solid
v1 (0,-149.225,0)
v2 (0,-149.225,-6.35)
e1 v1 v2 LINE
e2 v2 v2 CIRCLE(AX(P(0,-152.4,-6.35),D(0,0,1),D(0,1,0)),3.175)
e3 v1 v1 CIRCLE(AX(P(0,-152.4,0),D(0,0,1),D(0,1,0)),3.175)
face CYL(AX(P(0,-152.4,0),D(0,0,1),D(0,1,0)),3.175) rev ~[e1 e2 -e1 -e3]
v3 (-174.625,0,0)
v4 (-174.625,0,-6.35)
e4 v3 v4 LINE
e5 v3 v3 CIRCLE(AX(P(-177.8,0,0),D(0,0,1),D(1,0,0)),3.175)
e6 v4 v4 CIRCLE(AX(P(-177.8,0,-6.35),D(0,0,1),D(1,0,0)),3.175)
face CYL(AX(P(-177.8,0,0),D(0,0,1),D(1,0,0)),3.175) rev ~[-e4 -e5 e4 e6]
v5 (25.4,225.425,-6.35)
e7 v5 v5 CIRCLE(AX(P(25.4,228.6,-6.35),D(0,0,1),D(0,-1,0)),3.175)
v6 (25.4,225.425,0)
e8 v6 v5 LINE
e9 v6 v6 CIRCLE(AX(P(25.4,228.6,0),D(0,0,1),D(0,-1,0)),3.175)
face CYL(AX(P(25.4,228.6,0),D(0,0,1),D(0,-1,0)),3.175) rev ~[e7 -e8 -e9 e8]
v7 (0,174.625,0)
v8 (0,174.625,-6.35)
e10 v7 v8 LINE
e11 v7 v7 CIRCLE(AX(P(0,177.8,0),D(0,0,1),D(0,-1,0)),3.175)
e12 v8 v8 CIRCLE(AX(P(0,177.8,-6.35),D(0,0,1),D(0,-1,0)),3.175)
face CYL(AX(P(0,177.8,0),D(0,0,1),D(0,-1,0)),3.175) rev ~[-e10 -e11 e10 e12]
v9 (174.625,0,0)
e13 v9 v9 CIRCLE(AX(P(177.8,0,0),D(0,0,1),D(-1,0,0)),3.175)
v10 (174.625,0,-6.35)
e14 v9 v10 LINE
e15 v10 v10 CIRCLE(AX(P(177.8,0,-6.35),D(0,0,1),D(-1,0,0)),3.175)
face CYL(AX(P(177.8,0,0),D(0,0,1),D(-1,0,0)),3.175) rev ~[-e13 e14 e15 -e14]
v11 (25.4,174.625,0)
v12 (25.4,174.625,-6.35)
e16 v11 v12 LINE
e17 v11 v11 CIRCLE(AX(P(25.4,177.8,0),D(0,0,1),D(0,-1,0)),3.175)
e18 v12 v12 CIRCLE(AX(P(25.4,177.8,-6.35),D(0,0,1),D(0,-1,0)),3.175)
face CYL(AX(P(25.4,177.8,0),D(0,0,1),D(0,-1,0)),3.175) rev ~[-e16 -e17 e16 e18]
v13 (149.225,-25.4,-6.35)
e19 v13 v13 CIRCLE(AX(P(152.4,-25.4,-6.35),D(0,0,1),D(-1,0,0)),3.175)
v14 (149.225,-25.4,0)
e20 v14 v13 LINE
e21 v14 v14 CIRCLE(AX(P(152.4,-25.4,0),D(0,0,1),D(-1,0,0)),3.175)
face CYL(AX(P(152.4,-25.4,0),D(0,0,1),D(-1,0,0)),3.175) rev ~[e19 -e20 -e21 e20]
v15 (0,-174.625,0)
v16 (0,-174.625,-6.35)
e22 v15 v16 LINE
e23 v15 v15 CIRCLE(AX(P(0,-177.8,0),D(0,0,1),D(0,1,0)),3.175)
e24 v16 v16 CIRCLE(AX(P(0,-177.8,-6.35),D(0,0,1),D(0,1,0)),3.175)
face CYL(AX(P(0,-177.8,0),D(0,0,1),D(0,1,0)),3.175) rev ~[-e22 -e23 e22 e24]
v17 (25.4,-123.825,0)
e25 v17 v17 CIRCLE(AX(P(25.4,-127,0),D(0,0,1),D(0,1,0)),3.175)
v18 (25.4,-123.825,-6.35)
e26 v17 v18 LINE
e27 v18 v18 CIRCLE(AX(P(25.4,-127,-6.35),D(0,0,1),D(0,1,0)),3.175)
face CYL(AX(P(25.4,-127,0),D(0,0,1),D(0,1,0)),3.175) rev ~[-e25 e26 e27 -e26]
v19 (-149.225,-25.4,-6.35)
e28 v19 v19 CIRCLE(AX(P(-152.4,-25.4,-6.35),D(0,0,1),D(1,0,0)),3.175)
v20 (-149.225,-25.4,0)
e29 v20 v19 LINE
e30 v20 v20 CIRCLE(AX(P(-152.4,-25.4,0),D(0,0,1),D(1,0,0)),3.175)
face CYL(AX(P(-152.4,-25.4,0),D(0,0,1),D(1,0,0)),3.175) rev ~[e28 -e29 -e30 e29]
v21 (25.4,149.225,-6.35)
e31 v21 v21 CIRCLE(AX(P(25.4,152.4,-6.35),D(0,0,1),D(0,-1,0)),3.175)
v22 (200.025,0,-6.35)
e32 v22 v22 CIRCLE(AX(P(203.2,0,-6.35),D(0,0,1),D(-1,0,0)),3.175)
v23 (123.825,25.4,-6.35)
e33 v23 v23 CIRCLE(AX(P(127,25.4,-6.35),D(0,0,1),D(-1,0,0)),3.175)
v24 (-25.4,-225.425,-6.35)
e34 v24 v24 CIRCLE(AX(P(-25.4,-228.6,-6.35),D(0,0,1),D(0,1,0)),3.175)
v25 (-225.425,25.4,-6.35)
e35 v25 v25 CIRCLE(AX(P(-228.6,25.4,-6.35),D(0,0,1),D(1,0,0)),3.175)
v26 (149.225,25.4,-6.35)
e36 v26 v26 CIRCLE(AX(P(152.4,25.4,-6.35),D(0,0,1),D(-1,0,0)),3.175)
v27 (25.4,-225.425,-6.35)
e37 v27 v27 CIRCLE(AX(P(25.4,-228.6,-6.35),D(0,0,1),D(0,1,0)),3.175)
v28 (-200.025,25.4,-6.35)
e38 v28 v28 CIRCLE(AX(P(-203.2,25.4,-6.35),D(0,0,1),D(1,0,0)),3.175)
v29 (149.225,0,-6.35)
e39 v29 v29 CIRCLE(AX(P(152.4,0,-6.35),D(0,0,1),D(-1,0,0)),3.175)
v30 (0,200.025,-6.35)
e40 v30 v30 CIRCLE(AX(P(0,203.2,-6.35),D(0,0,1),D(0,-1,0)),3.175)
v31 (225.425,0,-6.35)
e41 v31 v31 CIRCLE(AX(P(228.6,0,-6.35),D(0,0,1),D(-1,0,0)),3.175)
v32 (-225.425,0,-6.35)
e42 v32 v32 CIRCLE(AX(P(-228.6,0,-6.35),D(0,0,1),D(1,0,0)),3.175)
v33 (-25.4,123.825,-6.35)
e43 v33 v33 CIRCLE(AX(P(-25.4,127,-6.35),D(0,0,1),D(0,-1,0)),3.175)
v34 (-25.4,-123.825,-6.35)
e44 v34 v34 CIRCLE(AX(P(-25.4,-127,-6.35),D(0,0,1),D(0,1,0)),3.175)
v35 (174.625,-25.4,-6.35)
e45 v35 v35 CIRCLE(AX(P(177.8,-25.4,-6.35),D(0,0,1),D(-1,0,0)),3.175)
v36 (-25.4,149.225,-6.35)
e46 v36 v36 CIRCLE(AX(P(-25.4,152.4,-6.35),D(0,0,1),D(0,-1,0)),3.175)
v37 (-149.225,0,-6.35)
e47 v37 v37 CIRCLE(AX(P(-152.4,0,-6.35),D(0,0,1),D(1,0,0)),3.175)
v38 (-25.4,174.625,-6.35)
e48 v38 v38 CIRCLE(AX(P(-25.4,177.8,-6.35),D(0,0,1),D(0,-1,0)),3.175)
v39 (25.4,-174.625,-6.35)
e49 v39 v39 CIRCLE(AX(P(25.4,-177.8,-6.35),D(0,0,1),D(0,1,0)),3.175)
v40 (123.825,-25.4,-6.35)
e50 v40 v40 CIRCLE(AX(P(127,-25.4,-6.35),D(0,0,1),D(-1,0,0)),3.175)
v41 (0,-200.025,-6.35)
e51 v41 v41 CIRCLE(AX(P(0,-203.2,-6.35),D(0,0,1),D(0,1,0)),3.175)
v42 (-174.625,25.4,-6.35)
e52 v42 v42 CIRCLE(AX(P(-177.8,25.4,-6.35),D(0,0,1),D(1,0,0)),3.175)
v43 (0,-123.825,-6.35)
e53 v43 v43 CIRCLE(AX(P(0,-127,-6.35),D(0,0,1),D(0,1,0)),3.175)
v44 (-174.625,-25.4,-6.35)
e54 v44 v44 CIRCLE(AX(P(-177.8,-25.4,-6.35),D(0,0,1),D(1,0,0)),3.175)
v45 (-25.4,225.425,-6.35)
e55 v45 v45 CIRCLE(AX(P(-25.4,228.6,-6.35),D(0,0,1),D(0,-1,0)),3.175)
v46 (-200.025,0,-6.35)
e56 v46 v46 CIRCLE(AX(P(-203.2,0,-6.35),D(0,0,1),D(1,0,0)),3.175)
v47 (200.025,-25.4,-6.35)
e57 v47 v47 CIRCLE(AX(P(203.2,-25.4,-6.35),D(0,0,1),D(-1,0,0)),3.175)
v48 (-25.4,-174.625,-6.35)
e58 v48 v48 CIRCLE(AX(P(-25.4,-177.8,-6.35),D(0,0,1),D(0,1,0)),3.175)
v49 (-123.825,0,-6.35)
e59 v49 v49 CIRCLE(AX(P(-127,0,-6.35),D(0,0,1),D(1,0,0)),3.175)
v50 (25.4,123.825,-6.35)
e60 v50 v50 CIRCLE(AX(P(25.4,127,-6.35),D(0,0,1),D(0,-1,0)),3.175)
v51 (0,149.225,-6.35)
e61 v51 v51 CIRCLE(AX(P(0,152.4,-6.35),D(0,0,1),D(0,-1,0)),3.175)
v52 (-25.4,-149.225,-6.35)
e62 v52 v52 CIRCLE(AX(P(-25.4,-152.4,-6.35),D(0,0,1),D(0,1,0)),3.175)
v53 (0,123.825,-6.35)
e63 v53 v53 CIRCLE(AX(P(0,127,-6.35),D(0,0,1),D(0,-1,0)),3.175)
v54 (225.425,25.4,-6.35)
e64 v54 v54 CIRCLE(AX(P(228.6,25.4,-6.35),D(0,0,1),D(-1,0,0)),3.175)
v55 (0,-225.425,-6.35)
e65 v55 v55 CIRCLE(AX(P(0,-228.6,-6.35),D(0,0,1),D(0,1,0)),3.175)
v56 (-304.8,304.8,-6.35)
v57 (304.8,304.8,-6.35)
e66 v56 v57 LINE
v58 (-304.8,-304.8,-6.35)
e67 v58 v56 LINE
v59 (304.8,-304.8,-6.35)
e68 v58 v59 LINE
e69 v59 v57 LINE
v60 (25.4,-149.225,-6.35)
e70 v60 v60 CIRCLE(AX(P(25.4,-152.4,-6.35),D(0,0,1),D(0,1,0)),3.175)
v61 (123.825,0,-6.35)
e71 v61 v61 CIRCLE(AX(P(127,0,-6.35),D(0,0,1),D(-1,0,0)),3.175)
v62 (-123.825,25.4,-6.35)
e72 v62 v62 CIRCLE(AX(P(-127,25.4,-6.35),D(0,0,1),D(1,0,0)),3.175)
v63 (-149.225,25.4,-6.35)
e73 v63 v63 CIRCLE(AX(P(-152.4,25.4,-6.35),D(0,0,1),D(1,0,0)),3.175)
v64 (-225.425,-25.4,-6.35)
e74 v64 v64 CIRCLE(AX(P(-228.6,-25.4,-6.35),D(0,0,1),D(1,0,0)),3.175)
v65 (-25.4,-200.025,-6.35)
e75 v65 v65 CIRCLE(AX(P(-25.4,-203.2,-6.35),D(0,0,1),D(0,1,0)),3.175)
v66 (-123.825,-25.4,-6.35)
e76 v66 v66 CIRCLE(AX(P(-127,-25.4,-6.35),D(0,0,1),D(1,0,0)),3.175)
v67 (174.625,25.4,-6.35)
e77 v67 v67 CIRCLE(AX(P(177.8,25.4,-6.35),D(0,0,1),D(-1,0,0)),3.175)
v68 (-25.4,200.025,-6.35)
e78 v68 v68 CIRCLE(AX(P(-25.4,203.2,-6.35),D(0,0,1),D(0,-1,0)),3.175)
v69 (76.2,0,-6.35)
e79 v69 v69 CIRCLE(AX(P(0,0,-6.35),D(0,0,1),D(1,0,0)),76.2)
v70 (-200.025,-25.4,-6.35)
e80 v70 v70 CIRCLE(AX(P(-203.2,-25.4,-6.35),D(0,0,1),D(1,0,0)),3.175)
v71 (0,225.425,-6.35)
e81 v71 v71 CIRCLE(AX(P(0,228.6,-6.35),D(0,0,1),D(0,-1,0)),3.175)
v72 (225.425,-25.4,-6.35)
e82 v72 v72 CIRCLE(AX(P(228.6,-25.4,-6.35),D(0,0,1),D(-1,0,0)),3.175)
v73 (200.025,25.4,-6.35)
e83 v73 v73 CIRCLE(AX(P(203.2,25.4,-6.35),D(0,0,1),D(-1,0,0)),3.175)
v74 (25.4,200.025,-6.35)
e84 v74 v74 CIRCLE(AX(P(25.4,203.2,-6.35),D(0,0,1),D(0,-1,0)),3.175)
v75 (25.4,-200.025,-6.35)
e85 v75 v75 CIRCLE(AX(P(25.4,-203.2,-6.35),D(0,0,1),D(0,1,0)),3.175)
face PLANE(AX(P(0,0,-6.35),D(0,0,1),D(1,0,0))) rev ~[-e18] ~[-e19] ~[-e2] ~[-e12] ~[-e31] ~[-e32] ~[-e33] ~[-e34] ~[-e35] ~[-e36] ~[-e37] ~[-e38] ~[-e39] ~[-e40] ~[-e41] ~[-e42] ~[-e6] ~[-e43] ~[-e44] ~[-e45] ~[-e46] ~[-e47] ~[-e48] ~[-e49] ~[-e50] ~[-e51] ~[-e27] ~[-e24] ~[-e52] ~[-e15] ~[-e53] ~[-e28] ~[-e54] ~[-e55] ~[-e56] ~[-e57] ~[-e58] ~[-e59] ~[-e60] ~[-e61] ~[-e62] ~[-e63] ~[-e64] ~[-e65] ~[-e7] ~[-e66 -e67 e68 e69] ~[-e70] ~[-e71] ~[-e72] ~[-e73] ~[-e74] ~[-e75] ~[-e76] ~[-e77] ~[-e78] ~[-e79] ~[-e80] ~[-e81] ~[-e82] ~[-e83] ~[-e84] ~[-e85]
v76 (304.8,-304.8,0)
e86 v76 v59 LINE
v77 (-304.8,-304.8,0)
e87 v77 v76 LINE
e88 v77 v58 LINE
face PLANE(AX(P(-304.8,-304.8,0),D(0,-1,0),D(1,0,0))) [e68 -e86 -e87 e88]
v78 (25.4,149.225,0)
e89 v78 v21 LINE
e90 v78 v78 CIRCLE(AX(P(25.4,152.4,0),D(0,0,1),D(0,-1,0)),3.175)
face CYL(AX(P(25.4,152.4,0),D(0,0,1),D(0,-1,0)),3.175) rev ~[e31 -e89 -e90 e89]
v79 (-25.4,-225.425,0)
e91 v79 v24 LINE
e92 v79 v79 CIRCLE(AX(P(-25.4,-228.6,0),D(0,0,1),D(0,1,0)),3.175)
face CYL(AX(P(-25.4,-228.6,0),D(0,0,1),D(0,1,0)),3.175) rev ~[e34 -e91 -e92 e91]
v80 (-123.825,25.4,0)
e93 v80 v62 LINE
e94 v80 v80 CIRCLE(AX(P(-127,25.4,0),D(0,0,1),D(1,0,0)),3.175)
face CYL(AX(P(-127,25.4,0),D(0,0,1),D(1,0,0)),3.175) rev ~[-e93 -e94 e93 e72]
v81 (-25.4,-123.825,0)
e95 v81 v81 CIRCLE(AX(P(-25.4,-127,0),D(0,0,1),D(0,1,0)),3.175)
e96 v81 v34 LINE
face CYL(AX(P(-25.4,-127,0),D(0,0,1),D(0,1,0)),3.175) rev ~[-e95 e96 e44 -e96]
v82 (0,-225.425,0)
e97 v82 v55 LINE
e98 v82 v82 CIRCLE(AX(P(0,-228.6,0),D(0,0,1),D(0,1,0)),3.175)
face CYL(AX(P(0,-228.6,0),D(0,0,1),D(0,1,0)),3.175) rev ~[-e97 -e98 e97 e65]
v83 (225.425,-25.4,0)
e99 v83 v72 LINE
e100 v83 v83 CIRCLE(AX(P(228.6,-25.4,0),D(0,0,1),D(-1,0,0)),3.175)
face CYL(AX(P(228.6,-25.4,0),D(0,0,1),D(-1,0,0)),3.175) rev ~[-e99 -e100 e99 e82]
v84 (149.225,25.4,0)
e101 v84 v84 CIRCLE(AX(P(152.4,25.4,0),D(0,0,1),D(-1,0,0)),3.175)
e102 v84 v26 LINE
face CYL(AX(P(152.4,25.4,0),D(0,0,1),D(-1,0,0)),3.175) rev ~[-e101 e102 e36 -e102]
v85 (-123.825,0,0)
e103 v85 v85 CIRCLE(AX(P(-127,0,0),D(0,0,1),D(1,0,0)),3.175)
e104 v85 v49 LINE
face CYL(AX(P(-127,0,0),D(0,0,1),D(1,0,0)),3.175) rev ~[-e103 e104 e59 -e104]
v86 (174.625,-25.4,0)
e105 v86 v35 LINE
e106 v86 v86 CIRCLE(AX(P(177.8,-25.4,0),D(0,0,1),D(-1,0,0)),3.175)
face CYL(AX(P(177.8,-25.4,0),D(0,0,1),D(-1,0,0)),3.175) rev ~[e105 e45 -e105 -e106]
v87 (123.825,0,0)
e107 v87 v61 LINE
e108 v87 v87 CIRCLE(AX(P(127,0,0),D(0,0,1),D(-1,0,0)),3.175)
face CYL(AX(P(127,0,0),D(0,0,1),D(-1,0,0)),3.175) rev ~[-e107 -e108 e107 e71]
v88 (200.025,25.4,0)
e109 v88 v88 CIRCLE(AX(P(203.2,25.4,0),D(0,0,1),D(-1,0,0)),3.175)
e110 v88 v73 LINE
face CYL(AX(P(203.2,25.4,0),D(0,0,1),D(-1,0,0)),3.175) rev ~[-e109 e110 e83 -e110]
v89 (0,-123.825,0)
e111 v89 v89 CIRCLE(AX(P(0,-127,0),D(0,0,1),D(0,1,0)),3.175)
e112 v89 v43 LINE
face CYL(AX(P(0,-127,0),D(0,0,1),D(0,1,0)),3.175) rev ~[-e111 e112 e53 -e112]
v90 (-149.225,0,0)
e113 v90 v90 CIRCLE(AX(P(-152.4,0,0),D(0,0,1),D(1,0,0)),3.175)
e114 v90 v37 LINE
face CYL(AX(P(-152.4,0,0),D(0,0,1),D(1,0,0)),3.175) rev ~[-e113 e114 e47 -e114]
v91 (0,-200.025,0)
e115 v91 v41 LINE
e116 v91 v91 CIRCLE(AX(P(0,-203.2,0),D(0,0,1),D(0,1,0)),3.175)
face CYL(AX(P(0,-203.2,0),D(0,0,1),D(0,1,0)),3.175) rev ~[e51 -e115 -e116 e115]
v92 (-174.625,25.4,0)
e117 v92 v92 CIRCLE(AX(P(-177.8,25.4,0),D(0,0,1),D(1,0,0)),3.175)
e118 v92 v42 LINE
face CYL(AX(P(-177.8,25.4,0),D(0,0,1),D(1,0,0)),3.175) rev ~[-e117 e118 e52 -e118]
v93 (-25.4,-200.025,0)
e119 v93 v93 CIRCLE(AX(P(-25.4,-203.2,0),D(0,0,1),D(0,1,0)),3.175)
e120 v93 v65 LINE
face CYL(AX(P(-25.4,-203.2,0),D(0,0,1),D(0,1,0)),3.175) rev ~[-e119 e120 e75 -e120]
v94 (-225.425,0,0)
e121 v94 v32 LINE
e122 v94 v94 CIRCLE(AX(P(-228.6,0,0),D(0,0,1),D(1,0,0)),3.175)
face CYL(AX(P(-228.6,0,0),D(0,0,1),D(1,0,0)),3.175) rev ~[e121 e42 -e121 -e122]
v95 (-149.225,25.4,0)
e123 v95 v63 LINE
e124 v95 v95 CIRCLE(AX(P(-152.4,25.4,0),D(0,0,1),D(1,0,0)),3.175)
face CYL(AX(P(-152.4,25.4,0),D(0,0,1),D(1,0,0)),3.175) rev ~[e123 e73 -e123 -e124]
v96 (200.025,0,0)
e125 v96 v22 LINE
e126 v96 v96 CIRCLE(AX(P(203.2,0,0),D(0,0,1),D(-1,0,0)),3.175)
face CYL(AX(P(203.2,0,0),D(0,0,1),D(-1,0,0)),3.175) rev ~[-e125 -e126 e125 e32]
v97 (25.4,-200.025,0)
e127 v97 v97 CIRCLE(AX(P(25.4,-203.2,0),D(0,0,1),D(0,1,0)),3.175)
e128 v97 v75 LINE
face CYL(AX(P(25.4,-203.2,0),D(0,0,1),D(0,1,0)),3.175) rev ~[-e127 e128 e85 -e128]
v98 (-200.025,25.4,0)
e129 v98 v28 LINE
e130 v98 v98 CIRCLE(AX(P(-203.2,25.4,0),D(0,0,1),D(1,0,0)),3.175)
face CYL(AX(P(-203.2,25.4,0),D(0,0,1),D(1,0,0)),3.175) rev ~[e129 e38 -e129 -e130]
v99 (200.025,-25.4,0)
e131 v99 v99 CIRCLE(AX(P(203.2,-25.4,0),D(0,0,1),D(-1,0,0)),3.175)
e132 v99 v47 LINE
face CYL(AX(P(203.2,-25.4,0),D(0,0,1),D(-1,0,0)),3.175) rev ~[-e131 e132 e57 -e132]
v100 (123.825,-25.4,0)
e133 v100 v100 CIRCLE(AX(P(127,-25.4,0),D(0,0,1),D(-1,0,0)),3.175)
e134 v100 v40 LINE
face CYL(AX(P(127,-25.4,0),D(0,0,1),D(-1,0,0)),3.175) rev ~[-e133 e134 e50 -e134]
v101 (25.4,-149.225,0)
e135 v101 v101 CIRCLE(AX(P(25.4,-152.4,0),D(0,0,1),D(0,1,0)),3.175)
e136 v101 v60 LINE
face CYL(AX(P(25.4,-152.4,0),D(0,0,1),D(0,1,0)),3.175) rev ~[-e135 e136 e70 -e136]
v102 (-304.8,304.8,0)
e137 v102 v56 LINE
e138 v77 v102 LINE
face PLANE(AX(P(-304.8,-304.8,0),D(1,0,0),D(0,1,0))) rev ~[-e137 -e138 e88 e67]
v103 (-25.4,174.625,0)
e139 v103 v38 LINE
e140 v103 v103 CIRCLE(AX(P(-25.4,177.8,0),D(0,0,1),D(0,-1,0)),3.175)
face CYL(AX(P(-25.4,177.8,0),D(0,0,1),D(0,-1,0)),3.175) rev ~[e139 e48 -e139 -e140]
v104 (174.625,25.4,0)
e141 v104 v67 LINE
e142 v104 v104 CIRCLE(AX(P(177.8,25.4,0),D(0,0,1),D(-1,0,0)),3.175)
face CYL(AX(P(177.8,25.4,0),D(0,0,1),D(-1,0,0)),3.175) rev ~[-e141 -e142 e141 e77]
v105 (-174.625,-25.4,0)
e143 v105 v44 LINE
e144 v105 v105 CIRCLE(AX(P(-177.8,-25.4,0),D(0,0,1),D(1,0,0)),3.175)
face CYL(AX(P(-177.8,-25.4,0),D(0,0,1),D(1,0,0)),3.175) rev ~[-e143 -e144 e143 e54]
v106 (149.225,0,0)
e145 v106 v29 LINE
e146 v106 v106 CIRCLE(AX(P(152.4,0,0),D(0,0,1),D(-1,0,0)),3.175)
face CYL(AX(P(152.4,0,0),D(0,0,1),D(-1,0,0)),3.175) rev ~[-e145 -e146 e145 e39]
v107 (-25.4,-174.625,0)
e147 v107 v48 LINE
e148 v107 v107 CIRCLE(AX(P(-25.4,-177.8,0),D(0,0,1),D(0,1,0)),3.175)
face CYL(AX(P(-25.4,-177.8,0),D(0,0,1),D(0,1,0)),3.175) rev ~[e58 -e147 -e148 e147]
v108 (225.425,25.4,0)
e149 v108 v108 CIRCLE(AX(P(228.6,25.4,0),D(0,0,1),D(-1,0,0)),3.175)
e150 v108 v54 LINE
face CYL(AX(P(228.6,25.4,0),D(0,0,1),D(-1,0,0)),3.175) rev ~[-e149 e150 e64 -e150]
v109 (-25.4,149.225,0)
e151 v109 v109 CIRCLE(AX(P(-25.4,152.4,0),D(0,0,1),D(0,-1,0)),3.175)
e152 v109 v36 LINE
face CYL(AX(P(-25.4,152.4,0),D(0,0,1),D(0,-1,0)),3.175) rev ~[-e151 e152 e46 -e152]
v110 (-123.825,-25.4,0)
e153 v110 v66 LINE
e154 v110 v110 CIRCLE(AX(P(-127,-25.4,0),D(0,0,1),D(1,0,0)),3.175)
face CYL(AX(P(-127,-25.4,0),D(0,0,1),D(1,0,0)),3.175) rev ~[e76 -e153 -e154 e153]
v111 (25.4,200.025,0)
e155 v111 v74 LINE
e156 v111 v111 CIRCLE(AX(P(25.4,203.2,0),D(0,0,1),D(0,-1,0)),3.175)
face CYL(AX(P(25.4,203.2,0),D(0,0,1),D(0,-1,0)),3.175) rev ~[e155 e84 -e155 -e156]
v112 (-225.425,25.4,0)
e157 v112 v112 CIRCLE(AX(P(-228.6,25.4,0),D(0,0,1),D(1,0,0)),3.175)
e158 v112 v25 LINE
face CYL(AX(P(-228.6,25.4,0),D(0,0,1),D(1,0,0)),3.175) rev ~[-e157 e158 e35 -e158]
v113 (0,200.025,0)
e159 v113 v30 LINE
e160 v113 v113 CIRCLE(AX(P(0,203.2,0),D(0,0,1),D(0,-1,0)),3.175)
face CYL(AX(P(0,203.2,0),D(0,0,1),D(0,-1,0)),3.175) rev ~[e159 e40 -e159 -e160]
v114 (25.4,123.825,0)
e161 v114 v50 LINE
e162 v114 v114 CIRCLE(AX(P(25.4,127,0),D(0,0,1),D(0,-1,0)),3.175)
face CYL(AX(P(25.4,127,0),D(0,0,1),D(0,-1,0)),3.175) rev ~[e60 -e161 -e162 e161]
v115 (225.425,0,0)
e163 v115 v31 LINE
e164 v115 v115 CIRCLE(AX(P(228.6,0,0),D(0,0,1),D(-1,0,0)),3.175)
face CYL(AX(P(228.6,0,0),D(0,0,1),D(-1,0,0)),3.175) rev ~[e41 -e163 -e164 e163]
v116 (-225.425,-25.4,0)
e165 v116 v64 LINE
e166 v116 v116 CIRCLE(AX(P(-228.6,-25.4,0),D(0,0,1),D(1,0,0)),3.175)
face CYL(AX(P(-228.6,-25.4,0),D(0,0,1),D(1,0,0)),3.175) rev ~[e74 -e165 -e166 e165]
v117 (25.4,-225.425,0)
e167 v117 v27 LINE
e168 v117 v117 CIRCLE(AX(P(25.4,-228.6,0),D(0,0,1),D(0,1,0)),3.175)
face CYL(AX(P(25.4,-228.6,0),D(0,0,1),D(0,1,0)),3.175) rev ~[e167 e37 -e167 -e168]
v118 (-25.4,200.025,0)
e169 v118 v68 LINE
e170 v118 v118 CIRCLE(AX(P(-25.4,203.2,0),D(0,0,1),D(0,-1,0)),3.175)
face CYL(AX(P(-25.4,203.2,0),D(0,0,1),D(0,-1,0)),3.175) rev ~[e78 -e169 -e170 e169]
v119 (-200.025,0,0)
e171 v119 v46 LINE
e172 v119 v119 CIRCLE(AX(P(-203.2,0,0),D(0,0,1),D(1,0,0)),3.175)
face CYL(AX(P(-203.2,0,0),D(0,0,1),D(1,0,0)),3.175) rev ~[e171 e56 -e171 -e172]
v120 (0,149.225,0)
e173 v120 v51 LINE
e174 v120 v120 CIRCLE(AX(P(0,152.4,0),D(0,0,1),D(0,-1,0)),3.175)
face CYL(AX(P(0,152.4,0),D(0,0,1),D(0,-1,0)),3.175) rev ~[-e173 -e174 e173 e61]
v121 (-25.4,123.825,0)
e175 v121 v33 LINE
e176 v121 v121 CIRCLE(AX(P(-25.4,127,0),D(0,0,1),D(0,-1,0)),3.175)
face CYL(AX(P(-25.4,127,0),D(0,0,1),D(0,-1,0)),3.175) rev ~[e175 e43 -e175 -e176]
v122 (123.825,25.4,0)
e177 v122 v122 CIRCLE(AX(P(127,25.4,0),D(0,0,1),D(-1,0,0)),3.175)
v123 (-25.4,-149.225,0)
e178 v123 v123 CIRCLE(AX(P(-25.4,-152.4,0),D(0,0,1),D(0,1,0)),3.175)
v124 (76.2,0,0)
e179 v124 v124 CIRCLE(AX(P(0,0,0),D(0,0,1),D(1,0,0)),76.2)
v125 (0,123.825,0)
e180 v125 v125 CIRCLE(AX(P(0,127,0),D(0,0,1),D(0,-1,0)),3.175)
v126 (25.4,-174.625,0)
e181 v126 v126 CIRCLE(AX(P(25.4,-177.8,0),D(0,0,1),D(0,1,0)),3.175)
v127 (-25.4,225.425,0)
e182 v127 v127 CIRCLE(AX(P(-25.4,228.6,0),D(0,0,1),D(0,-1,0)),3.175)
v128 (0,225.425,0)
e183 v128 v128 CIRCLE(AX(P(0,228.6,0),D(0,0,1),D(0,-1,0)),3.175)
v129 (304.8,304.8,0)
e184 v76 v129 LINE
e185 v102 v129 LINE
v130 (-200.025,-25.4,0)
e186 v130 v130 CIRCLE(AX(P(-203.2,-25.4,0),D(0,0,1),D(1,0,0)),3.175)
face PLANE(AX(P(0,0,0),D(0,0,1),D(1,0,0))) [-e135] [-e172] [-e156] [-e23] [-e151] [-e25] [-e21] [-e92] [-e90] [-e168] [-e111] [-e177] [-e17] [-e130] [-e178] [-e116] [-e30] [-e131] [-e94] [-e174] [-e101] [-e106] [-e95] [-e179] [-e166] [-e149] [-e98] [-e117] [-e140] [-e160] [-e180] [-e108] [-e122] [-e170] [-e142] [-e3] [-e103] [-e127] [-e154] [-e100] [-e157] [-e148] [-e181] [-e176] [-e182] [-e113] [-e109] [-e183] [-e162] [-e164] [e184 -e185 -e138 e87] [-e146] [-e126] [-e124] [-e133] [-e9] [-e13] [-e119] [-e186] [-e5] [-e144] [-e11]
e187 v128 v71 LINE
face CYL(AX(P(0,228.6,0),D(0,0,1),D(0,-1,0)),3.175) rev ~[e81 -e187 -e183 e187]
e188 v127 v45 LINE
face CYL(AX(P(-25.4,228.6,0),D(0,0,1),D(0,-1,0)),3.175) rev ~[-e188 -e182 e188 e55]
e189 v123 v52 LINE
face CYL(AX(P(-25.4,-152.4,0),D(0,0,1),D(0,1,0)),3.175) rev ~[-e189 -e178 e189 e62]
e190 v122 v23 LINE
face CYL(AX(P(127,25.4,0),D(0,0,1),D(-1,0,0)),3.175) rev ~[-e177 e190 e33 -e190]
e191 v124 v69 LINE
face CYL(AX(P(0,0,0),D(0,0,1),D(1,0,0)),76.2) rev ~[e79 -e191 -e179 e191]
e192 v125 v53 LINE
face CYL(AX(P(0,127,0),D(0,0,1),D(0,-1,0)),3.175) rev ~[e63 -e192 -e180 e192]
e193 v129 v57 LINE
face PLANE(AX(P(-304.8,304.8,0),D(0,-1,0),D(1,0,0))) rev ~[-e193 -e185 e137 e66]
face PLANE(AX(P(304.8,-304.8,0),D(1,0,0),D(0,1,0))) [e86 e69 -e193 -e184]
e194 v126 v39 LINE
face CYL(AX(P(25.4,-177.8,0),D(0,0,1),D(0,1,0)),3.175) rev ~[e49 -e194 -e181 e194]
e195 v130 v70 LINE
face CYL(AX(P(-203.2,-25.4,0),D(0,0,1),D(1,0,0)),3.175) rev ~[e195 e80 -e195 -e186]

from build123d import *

# Parameters (mm, degrees)
SKETCH1_W                    = 609.6
SKETCH1_H                    = 609.6
SKETCH1_R                    = 76.2
BOSS_EXTRUDE1_DEPTH          = 6.35
SKETCH3_R                    = 3.175
CUT_EXTRUDE1_DEPTH           = 6.35
LPATTERN1_COUNT              = 5
LPATTERN1_PITCH              = 25.4
CIRPATTERN1_COUNT            = 4
CIRPATTERN1_COPY_1_SKETCH_R  = 3.175
CIRPATTERN1_COPY_1_DEPTH     = 6.35
CIRPATTERN1_COPY_2_SKETCH_R  = 3.175
CIRPATTERN1_COPY_2_DEPTH     = 6.35
CIRPATTERN1_COPY_3_SKETCH_R  = 3.175
CIRPATTERN1_COPY_3_DEPTH     = 6.35
CIRPATTERN1_COPY_4_SKETCH_R  = 3.175
CIRPATTERN1_COPY_4_DEPTH     = 6.35
CIRPATTERN1_COPY_5_SKETCH_R  = 3.175
CIRPATTERN1_COPY_5_DEPTH     = 6.35
CIRPATTERN1_COPY_6_SKETCH_R  = 3.175
CIRPATTERN1_COPY_6_DEPTH     = 6.35
CIRPATTERN1_COPY_7_SKETCH_R  = 3.175
CIRPATTERN1_COPY_7_DEPTH     = 6.35
CIRPATTERN1_COPY_8_SKETCH_R  = 3.175
CIRPATTERN1_COPY_8_DEPTH     = 6.35
CIRPATTERN1_COPY_9_SKETCH_R  = 3.175
CIRPATTERN1_COPY_9_DEPTH     = 6.35
CIRPATTERN1_COPY_10_SKETCH_R = 3.175
CIRPATTERN1_COPY_10_DEPTH    = 6.35
CIRPATTERN1_COPY_11_SKETCH_R = 3.175
CIRPATTERN1_COPY_11_DEPTH    = 6.35
CIRPATTERN1_COPY_12_SKETCH_R = 3.175
CIRPATTERN1_COPY_12_DEPTH    = 6.35


with BuildPart() as part:
    # Sketch1 → Boss-Extrude1 (new body)
    with BuildSketch(Plane.XY):
        Rectangle(SKETCH1_W, SKETCH1_H)
        Circle(SKETCH1_R, mode=Mode.SUBTRACT)
    extrude(amount=-BOSS_EXTRUDE1_DEPTH)

    # Sketch3 → Cut-Extrude1 (cut)
    with BuildSketch(Plane.XY):
        with Locations((-127, 0)):
            Circle(SKETCH3_R)
        with Locations((-127, 25.4)):
            Circle(SKETCH3_R)
        with Locations((-127, -25.4)):
            Circle(SKETCH3_R)
    cut_extrude1 = extrude(amount=-CUT_EXTRUDE1_DEPTH, mode=Mode.SUBTRACT)

    # LPattern1: Cut-Extrude1 ×5
    with Locations(*[(-i * LPATTERN1_PITCH, 0, 0) for i in range(1, LPATTERN1_COUNT)]):
        add(cut_extrude1, mode=Mode.SUBTRACT)

    # CirPattern1: Cut-Extrude1 ×4 about axis
    cirpattern1_axis = Axis((0, 0, 0), (0, 0, 1))
    for i in range(1, CIRPATTERN1_COUNT):
        add(cut_extrude1.rotate(cirpattern1_axis, i * 360 / CIRPATTERN1_COUNT), mode=Mode.SUBTRACT)

    # CirPattern1 copy 1 sketch → CirPattern1 copy 1 (cut)
    with BuildSketch(Plane(origin=(0, -25.4, 0), x_dir=(0, 1, 0), z_dir=(0, 0, 1))):
        with Locations((-127, 0)):
            Circle(CIRPATTERN1_COPY_1_SKETCH_R)
        with Locations((-127, 25.4)):
            Circle(CIRPATTERN1_COPY_1_SKETCH_R)
        with Locations((-127, -25.4)):
            Circle(CIRPATTERN1_COPY_1_SKETCH_R)
    extrude(amount=-CIRPATTERN1_COPY_1_DEPTH, mode=Mode.SUBTRACT)

    # CirPattern1 copy 2 sketch → CirPattern1 copy 2 (cut)
    with BuildSketch(Plane(origin=(25.4, 0, 0), x_dir=(-1, 0, 0), z_dir=(0, 0, 1))):
        with Locations((-127, 0)):
            Circle(CIRPATTERN1_COPY_2_SKETCH_R)
        with Locations((-127, 25.4)):
            Circle(CIRPATTERN1_COPY_2_SKETCH_R)
        with Locations((-127, -25.4)):
            Circle(CIRPATTERN1_COPY_2_SKETCH_R)
    extrude(amount=-CIRPATTERN1_COPY_2_DEPTH, mode=Mode.SUBTRACT)

    # CirPattern1 copy 3 sketch → CirPattern1 copy 3 (cut)
    with BuildSketch(Plane(origin=(0, 25.4, 0), x_dir=(0, -1, 0), z_dir=(0, 0, 1))):
        with Locations((-127, 0)):
            Circle(CIRPATTERN1_COPY_3_SKETCH_R)
        with Locations((-127, 25.4)):
            Circle(CIRPATTERN1_COPY_3_SKETCH_R)
        with Locations((-127, -25.4)):
            Circle(CIRPATTERN1_COPY_3_SKETCH_R)
    extrude(amount=-CIRPATTERN1_COPY_3_DEPTH, mode=Mode.SUBTRACT)

    # CirPattern1 copy 4 sketch → CirPattern1 copy 4 (cut)
    with BuildSketch(Plane(origin=(0, -50.8, 0), x_dir=(0, 1, 0), z_dir=(0, 0, 1))):
        with Locations((-127, 0)):
            Circle(CIRPATTERN1_COPY_4_SKETCH_R)
        with Locations((-127, 25.4)):
            Circle(CIRPATTERN1_COPY_4_SKETCH_R)
        with Locations((-127, -25.4)):
            Circle(CIRPATTERN1_COPY_4_SKETCH_R)
    extrude(amount=-CIRPATTERN1_COPY_4_DEPTH, mode=Mode.SUBTRACT)

    # CirPattern1 copy 5 sketch → CirPattern1 copy 5 (cut)
    with BuildSketch(Plane(origin=(50.8, 0, 0), x_dir=(-1, 0, 0), z_dir=(0, 0, 1))):
        with Locations((-127, 0)):
            Circle(CIRPATTERN1_COPY_5_SKETCH_R)
        with Locations((-127, 25.4)):
            Circle(CIRPATTERN1_COPY_5_SKETCH_R)
        with Locations((-127, -25.4)):
            Circle(CIRPATTERN1_COPY_5_SKETCH_R)
    extrude(amount=-CIRPATTERN1_COPY_5_DEPTH, mode=Mode.SUBTRACT)

    # CirPattern1 copy 6 sketch → CirPattern1 copy 6 (cut)
    with BuildSketch(Plane(origin=(0, 50.8, 0), x_dir=(0, -1, 0), z_dir=(0, 0, 1))):
        with Locations((-127, 0)):
            Circle(CIRPATTERN1_COPY_6_SKETCH_R)
        with Locations((-127, 25.4)):
            Circle(CIRPATTERN1_COPY_6_SKETCH_R)
        with Locations((-127, -25.4)):
            Circle(CIRPATTERN1_COPY_6_SKETCH_R)
    extrude(amount=-CIRPATTERN1_COPY_6_DEPTH, mode=Mode.SUBTRACT)

    # CirPattern1 copy 7 sketch → CirPattern1 copy 7 (cut)
    with BuildSketch(Plane(origin=(0, -76.2, 0), x_dir=(0, 1, 0), z_dir=(0, 0, 1))):
        with Locations((-127, 0)):
            Circle(CIRPATTERN1_COPY_7_SKETCH_R)
        with Locations((-127, 25.4)):
            Circle(CIRPATTERN1_COPY_7_SKETCH_R)
        with Locations((-127, -25.4)):
            Circle(CIRPATTERN1_COPY_7_SKETCH_R)
    extrude(amount=-CIRPATTERN1_COPY_7_DEPTH, mode=Mode.SUBTRACT)

    # CirPattern1 copy 8 sketch → CirPattern1 copy 8 (cut)
    with BuildSketch(Plane(origin=(76.2, 0, 0), x_dir=(-1, 0, 0), z_dir=(0, 0, 1))):
        with Locations((-127, 0)):
            Circle(CIRPATTERN1_COPY_8_SKETCH_R)
        with Locations((-127, 25.4)):
            Circle(CIRPATTERN1_COPY_8_SKETCH_R)
        with Locations((-127, -25.4)):
            Circle(CIRPATTERN1_COPY_8_SKETCH_R)
    extrude(amount=-CIRPATTERN1_COPY_8_DEPTH, mode=Mode.SUBTRACT)

    # CirPattern1 copy 9 sketch → CirPattern1 copy 9 (cut)
    with BuildSketch(Plane(origin=(0, 76.2, 0), x_dir=(0, -1, 0), z_dir=(0, 0, 1))):
        with Locations((-127, 0)):
            Circle(CIRPATTERN1_COPY_9_SKETCH_R)
        with Locations((-127, 25.4)):
            Circle(CIRPATTERN1_COPY_9_SKETCH_R)
        with Locations((-127, -25.4)):
            Circle(CIRPATTERN1_COPY_9_SKETCH_R)
    extrude(amount=-CIRPATTERN1_COPY_9_DEPTH, mode=Mode.SUBTRACT)

    # CirPattern1 copy 10 sketch → CirPattern1 copy 10 (cut)
    with BuildSketch(Plane(origin=(0, -101.6, 0), x_dir=(0, 1, 0), z_dir=(0, 0, 1))):
        with Locations((-127, 0)):
            Circle(CIRPATTERN1_COPY_10_SKETCH_R)
        with Locations((-127, 25.4)):
            Circle(CIRPATTERN1_COPY_10_SKETCH_R)
        with Locations((-127, -25.4)):
            Circle(CIRPATTERN1_COPY_10_SKETCH_R)
    extrude(amount=-CIRPATTERN1_COPY_10_DEPTH, mode=Mode.SUBTRACT)

    # CirPattern1 copy 11 sketch → CirPattern1 copy 11 (cut)
    with BuildSketch(Plane(origin=(101.6, 0, 0), x_dir=(-1, 0, 0), z_dir=(0, 0, 1))):
        with Locations((-127, 0)):
            Circle(CIRPATTERN1_COPY_11_SKETCH_R)
        with Locations((-127, 25.4)):
            Circle(CIRPATTERN1_COPY_11_SKETCH_R)
        with Locations((-127, -25.4)):
            Circle(CIRPATTERN1_COPY_11_SKETCH_R)
    extrude(amount=-CIRPATTERN1_COPY_11_DEPTH, mode=Mode.SUBTRACT)

    # CirPattern1 copy 12 sketch → CirPattern1 copy 12 (cut)
    with BuildSketch(Plane(origin=(0, 101.6, 0), x_dir=(0, -1, 0), z_dir=(0, 0, 1))):
        with Locations((-127, 0)):
            Circle(CIRPATTERN1_COPY_12_SKETCH_R)
        with Locations((-127, 25.4)):
            Circle(CIRPATTERN1_COPY_12_SKETCH_R)
        with Locations((-127, -25.4)):
            Circle(CIRPATTERN1_COPY_12_SKETCH_R)
    extrude(amount=-CIRPATTERN1_COPY_12_DEPTH, mode=Mode.SUBTRACT)


solid = part.part
